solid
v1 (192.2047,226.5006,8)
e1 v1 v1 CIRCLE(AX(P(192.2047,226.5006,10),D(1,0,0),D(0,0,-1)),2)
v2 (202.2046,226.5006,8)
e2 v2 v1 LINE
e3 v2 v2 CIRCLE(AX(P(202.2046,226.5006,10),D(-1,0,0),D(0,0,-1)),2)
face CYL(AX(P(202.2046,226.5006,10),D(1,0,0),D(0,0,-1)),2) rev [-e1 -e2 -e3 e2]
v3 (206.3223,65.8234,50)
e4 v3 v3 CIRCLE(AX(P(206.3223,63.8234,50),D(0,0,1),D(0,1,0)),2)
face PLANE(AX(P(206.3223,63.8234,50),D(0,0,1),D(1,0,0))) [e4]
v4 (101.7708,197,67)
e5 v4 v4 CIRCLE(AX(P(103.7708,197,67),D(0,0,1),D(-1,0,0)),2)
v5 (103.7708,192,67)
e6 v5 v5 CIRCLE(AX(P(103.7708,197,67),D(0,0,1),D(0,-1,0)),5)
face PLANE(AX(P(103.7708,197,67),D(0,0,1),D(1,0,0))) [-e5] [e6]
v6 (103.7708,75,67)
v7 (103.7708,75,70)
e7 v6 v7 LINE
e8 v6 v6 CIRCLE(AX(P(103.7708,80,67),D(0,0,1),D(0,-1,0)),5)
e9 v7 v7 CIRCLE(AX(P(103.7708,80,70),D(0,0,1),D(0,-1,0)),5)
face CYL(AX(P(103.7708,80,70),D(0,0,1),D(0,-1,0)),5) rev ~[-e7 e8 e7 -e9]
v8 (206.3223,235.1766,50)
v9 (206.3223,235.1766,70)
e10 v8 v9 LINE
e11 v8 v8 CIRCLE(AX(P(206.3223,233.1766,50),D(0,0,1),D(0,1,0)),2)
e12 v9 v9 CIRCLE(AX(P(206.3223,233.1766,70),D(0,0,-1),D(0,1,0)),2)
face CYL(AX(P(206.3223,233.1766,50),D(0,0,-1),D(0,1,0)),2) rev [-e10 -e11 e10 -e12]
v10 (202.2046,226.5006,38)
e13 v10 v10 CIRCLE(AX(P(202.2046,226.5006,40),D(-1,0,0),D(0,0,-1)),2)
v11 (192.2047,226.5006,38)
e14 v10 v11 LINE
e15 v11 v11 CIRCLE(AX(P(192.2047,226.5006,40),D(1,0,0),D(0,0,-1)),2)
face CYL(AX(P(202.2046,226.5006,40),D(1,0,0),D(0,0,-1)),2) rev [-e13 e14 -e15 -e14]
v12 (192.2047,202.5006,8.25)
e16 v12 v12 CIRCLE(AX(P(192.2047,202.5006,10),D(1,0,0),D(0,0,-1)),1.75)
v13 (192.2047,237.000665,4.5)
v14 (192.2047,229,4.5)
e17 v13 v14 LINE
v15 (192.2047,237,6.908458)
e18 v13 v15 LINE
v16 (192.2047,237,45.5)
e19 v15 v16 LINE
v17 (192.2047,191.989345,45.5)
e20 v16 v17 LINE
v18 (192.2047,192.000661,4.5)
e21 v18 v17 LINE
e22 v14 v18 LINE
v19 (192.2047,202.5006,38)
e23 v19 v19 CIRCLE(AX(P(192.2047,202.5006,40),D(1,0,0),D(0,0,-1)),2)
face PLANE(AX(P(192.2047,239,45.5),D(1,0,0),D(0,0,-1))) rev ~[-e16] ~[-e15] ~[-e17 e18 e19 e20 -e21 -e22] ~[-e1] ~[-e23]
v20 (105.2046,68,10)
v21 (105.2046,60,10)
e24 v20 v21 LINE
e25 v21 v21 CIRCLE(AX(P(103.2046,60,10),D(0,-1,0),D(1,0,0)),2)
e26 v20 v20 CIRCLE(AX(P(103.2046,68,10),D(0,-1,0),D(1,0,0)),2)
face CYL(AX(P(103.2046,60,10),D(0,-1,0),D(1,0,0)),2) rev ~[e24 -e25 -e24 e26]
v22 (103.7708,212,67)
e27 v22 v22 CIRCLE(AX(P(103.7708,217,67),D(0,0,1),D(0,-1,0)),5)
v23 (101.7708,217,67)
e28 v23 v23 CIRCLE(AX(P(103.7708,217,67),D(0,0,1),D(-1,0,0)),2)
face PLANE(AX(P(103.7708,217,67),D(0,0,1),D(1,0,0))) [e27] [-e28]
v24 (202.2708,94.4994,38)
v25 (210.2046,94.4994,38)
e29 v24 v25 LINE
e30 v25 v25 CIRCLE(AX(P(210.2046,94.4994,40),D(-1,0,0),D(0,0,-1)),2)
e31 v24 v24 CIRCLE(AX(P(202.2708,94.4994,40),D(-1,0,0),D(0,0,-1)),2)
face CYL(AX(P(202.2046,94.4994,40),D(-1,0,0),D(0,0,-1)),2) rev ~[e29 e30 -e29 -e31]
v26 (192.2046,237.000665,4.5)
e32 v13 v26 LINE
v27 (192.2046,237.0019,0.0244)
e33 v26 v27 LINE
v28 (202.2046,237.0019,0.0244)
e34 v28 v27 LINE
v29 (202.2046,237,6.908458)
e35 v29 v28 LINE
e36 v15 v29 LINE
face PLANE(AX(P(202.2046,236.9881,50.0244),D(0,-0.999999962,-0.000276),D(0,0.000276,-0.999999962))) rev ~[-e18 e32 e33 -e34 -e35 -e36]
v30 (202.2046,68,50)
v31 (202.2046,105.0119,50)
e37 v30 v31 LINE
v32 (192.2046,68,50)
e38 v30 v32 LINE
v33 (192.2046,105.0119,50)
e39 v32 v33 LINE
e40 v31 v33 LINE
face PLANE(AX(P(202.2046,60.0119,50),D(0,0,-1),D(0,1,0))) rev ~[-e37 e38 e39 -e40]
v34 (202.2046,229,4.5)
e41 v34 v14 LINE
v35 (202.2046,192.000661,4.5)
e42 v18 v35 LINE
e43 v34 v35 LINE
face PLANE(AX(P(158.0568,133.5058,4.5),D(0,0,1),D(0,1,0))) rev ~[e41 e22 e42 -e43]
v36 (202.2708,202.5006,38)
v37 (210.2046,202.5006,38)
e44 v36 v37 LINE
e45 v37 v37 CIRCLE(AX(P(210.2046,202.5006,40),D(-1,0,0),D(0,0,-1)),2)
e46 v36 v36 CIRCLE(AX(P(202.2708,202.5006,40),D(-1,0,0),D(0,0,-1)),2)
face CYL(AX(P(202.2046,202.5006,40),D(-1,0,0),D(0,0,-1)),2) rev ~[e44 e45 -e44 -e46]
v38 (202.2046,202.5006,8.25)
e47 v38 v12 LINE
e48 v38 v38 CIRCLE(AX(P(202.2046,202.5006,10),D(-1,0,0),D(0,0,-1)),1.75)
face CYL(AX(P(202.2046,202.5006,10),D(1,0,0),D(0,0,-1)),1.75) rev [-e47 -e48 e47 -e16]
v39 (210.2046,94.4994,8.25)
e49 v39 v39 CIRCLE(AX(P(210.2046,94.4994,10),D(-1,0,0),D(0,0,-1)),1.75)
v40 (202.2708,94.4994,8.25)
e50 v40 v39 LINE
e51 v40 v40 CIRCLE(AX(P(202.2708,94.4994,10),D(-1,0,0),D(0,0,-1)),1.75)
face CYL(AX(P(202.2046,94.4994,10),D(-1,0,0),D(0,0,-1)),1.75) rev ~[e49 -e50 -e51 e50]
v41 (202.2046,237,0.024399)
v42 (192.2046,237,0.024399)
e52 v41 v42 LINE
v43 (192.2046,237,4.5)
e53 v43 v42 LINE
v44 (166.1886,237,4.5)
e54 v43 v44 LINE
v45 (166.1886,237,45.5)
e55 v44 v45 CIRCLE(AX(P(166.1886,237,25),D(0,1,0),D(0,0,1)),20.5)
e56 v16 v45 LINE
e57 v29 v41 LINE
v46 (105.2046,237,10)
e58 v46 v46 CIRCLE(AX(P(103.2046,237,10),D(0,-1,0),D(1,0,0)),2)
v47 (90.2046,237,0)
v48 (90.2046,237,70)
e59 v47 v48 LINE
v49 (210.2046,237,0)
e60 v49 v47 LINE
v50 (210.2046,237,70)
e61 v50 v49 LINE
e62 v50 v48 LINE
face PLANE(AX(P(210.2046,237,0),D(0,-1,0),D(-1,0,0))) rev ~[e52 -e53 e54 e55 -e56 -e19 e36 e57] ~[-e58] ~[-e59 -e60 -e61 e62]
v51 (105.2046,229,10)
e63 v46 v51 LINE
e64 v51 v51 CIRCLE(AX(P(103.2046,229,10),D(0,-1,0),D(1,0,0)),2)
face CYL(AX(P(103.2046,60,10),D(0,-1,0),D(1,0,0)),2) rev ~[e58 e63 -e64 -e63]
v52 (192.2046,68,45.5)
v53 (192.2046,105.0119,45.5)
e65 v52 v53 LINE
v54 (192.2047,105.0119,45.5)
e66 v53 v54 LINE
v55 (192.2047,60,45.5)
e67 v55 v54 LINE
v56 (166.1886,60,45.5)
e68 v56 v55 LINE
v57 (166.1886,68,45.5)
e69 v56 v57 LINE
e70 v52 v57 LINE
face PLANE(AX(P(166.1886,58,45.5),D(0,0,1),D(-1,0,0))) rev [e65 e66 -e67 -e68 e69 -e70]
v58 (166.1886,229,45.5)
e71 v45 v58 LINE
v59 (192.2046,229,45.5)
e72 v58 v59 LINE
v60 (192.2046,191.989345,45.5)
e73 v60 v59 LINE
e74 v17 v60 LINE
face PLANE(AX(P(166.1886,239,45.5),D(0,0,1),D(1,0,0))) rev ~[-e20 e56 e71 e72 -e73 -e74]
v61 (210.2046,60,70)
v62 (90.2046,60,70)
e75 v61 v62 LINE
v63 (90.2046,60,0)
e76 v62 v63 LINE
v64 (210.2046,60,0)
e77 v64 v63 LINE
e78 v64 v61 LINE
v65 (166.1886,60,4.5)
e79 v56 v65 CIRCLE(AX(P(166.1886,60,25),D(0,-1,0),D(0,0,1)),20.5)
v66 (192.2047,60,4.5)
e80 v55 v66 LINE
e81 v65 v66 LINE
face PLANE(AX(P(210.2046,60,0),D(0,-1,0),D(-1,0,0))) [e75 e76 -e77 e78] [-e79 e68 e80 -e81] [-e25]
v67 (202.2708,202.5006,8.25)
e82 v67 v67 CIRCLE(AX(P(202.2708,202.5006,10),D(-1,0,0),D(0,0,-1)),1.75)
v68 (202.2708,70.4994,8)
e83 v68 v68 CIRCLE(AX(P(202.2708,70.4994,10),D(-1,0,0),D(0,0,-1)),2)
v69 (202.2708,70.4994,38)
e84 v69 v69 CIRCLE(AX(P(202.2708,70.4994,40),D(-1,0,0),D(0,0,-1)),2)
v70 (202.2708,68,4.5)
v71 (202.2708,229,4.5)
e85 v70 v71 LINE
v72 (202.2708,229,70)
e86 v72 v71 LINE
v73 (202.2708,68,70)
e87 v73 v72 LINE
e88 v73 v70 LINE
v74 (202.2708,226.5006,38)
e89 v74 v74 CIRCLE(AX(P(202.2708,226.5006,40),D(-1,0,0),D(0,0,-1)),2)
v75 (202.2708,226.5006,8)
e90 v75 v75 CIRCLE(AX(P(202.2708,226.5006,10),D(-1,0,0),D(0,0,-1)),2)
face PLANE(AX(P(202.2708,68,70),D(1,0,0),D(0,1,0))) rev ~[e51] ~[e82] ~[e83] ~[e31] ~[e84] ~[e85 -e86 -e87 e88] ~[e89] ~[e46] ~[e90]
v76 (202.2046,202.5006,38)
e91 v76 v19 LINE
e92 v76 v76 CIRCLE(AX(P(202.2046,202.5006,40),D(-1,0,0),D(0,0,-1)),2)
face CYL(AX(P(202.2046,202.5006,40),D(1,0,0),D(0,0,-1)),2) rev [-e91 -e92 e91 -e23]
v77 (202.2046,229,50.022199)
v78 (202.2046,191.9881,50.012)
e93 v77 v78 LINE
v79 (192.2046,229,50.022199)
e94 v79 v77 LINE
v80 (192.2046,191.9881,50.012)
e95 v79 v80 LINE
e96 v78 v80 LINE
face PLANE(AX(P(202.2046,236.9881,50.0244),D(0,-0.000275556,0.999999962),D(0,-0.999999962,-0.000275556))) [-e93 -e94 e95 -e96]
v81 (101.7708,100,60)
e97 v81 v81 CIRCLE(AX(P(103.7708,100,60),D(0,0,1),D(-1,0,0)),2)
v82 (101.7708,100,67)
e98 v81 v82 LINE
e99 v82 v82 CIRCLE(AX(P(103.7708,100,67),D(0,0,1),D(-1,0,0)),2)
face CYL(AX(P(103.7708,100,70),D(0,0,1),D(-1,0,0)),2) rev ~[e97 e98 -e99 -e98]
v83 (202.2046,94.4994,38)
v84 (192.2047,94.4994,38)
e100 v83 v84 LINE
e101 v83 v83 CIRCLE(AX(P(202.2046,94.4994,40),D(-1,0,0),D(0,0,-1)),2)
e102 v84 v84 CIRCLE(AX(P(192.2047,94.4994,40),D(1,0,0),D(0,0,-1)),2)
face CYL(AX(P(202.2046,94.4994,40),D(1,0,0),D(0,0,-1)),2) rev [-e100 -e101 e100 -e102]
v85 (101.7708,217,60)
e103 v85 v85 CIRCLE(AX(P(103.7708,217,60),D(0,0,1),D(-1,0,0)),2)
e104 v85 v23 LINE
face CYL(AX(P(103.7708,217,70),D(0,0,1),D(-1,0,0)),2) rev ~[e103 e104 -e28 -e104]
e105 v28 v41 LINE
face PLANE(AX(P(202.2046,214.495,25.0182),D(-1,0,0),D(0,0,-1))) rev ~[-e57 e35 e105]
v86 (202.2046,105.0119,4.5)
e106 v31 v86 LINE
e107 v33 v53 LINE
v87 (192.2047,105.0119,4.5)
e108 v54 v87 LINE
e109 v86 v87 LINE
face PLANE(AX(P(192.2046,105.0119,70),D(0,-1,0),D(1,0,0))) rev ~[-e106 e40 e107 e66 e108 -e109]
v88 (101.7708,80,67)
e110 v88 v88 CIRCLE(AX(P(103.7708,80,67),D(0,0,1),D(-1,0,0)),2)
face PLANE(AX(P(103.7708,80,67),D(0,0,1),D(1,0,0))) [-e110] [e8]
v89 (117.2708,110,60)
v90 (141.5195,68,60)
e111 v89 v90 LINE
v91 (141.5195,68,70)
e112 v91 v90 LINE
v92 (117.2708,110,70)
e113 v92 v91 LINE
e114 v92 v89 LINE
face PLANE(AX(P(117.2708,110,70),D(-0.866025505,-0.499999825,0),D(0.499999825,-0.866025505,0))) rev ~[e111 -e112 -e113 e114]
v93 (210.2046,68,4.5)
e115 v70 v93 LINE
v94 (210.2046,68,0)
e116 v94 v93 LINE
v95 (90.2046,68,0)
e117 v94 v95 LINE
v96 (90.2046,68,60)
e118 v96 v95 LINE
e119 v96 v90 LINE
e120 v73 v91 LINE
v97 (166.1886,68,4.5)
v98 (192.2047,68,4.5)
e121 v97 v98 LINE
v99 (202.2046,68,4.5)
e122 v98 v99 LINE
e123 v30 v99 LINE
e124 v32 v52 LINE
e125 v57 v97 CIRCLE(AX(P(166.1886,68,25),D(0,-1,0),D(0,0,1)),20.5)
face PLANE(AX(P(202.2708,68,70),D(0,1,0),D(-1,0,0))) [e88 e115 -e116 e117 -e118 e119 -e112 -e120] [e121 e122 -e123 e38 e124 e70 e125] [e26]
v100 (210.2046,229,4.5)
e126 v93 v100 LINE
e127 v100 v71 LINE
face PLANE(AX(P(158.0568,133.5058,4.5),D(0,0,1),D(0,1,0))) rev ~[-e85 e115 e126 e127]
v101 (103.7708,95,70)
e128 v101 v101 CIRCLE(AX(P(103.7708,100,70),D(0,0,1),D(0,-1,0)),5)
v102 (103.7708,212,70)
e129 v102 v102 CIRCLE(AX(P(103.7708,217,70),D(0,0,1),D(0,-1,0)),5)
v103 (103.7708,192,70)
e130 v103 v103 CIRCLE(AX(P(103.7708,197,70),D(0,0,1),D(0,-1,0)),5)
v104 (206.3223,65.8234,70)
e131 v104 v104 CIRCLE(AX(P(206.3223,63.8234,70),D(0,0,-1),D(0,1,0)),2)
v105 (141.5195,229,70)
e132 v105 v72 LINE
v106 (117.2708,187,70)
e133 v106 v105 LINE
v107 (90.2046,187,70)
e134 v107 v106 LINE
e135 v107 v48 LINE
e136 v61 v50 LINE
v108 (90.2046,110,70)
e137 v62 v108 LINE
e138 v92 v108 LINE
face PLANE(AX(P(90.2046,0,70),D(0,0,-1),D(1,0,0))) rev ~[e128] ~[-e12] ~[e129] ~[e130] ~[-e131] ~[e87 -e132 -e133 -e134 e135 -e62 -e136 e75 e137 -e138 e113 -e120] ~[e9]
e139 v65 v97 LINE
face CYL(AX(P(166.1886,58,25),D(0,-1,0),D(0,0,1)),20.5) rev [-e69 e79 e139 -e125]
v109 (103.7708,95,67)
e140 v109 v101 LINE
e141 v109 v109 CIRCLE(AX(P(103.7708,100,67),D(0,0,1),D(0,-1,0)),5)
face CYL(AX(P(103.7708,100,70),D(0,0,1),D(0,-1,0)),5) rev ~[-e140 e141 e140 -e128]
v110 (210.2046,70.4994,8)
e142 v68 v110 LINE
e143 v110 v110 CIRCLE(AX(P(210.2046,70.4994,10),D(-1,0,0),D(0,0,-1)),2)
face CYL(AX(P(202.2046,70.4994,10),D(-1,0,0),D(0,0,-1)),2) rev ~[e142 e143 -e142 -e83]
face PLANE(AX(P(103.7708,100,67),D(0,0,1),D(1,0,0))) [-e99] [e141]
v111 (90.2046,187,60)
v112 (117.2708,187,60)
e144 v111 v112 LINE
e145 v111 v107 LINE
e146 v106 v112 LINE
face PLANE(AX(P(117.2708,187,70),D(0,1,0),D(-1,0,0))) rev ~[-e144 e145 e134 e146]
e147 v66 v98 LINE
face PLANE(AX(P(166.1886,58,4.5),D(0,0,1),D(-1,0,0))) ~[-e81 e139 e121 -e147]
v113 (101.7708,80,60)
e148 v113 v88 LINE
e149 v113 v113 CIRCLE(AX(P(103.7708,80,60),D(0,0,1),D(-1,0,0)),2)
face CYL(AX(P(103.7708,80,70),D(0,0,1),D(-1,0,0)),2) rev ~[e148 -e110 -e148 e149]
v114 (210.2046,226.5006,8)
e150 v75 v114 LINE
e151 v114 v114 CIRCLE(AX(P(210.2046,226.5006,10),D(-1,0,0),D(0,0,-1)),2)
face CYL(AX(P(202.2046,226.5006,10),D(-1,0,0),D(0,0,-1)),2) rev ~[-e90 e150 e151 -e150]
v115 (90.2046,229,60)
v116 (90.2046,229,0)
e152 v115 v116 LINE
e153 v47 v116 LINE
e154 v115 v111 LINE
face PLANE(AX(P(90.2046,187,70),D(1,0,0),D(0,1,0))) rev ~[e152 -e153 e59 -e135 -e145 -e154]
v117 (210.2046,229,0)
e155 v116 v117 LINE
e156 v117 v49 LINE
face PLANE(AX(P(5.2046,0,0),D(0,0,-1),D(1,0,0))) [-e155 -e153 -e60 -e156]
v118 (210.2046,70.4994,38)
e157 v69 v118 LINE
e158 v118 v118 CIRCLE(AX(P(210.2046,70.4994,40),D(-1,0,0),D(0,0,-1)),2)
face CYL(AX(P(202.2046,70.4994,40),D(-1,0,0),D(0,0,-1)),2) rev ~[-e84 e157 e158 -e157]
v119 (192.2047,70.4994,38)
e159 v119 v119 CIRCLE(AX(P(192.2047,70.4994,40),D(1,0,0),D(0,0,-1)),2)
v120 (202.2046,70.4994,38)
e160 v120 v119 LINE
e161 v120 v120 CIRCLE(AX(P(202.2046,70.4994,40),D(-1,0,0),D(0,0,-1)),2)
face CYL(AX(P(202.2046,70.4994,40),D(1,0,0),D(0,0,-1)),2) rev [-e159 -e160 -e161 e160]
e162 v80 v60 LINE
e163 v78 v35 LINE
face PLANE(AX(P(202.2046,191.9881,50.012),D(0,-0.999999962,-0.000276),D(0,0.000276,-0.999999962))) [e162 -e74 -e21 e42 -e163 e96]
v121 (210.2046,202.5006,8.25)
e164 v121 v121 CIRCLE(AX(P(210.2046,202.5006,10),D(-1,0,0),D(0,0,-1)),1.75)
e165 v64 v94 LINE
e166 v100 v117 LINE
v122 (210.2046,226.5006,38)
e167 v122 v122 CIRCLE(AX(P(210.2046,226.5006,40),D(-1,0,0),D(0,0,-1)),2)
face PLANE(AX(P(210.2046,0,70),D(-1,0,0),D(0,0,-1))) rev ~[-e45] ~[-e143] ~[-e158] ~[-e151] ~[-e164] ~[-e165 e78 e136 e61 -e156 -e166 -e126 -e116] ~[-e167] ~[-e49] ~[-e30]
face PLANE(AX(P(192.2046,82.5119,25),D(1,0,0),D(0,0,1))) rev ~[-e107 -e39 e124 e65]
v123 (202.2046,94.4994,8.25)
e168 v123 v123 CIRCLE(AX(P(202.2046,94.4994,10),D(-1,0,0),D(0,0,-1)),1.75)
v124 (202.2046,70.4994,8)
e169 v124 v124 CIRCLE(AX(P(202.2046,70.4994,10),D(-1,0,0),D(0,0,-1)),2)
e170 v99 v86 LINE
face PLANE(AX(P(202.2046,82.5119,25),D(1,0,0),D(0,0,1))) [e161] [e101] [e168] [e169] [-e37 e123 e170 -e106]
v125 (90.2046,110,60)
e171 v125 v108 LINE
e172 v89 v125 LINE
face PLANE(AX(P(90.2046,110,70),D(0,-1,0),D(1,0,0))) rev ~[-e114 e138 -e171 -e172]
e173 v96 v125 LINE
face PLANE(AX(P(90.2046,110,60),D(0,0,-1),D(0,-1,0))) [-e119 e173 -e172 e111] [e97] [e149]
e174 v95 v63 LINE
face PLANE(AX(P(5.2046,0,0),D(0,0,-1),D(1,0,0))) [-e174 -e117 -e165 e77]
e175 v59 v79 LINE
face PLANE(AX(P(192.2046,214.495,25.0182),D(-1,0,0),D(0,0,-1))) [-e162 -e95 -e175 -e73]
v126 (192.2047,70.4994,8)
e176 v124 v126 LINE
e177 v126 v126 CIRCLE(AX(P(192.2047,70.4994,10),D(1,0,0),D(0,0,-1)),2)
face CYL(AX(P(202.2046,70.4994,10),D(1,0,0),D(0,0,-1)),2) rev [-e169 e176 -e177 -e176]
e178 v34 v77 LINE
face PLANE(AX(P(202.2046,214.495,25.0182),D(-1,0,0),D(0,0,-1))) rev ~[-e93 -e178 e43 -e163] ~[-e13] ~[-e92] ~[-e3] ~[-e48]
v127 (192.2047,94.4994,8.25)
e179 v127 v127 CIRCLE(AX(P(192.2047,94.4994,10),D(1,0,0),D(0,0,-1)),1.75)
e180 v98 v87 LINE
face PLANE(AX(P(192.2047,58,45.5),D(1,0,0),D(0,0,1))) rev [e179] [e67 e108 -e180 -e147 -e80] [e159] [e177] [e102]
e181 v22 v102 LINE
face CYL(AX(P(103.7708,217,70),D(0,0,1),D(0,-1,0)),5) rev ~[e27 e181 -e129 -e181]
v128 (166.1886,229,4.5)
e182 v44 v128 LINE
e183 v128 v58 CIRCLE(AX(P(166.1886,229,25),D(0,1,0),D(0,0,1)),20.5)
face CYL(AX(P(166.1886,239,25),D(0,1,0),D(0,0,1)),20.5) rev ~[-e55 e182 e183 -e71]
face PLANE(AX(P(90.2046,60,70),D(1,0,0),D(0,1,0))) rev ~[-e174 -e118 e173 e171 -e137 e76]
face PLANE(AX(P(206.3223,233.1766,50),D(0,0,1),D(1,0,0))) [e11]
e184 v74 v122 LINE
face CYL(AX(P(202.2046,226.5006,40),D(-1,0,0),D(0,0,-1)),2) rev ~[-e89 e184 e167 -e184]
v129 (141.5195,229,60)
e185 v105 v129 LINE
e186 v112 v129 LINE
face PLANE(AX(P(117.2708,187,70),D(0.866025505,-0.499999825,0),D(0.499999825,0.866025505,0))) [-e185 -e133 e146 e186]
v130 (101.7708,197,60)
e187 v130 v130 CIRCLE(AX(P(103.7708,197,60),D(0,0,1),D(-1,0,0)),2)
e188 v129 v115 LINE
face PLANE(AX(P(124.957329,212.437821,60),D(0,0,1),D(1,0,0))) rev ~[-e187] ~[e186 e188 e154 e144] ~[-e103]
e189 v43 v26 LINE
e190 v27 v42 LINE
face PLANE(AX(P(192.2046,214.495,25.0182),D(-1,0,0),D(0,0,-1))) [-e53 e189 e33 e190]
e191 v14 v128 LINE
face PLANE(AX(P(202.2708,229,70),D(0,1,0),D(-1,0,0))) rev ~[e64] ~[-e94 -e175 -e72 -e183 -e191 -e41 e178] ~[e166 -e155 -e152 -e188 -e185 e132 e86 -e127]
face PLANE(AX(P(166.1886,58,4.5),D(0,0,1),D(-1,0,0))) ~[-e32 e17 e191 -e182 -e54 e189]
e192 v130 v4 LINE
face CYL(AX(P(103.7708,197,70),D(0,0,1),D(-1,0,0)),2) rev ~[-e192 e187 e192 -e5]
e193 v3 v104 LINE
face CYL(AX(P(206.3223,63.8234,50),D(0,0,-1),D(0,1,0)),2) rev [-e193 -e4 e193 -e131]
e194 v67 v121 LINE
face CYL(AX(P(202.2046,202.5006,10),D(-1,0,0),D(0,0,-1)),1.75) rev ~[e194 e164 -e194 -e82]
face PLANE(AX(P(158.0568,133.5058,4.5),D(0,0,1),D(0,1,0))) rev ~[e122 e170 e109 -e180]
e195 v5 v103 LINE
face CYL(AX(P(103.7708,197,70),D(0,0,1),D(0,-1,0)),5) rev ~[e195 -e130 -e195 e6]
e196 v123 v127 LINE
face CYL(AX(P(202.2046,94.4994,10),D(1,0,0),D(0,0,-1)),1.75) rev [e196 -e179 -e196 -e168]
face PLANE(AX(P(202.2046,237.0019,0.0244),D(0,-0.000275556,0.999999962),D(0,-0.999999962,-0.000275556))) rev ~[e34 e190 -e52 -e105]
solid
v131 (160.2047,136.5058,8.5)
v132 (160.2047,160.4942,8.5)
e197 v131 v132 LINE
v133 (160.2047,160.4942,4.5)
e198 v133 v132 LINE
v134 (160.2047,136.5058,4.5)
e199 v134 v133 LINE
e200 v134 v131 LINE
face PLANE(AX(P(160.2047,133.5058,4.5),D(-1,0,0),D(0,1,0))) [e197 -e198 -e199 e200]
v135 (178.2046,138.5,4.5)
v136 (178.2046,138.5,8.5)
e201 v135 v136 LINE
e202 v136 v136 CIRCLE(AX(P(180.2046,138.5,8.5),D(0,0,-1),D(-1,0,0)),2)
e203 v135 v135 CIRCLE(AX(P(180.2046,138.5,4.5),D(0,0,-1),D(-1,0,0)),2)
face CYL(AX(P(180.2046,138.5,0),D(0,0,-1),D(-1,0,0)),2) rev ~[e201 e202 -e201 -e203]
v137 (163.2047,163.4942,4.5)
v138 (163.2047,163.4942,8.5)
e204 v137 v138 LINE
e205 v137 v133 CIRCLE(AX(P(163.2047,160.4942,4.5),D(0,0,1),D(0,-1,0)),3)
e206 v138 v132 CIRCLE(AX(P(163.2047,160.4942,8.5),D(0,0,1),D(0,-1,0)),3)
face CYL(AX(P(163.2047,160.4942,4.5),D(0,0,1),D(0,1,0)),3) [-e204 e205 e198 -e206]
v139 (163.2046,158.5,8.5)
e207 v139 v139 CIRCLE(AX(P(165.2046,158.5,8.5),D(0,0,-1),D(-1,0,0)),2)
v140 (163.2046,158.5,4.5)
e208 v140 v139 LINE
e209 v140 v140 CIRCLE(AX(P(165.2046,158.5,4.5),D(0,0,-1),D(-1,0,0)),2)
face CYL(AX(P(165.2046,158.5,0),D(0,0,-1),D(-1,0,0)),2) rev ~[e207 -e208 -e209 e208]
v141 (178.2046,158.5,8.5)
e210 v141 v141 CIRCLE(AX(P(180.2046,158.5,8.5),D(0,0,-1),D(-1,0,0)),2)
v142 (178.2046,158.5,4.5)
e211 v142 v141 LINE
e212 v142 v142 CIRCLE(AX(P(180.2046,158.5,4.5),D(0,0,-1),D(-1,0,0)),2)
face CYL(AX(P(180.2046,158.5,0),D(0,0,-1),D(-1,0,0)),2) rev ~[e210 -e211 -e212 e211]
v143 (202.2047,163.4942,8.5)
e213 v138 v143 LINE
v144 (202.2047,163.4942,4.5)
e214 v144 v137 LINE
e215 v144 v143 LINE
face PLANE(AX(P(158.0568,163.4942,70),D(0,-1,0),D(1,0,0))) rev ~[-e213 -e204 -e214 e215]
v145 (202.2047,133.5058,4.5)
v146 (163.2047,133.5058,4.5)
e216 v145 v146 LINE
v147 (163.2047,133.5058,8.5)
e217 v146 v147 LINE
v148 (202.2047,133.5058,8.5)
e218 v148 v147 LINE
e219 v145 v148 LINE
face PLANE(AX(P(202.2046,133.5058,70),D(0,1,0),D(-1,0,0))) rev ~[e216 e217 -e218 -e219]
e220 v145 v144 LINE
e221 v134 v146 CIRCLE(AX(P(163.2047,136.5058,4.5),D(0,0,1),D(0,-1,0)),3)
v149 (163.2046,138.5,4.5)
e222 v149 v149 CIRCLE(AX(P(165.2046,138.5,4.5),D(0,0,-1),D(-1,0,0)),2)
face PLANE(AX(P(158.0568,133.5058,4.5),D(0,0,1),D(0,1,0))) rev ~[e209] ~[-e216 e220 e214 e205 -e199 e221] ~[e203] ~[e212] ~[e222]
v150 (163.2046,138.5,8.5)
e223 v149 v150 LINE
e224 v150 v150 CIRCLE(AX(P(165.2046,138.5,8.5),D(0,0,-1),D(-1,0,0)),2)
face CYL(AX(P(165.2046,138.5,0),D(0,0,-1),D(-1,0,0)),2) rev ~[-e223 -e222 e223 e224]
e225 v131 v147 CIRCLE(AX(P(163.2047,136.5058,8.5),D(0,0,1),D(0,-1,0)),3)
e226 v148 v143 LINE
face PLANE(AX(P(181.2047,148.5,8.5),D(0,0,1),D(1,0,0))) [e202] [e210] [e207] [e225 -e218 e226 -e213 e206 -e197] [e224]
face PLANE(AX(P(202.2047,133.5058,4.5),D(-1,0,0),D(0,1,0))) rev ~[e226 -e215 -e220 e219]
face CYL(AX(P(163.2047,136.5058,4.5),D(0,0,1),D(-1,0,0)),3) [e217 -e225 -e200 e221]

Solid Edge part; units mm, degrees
sketch "Sketch1" plane through (0, 0, 0) normal (0, -1, 0) x (1, 0, 0)
  spline S0 degree 3 poles (90.2046, 70) (32.991, 55.2277) (66.8661, 5.5696) (5.2046, 0) knots 0 0 0 0 0.422525 0.422525 0.422525 0.422525
  line L0 (5.2046, 0) -> (210.2046, 0)
  line L1 (210.2046, 0) -> (210.2046, 50)
  line L2 (210.2046, 70) -> (210.2046, 50)
  line L3 (90.2046, 70) -> (210.2046, 70)
extrude "Protrusion1" add sketch "Sketch1" against normal blind 297
sketch "Sketch2" plane through (0, 0, 0) normal (0, 0, 1) x (1, 0, 0)
  line L0 (210.2046, 237) -> (5.2046, 237)
  line L1 (5.2046, 237) -> (5.2046, 297)
  line L2 (5.2046, 297) -> (210.2046, 297)
  line L3 (210.2046, 297) -> (210.2046, 237)
  line L4 (210.2046, 60) -> (5.2046, 60)
  line L5 (5.2046, 60) -> (5.2046, 0)
  line L6 (5.2046, 0) -> (210.2046, 0)
  line L7 (210.2046, 0) -> (210.2046, 60)
extrude "VaciadoExtruido_15" cut sketch "Sketch2" along normal blind 144.3663
sketch "Sketch3" plane through (157.6535, 148.5, 70) normal (0, 0, 1) x (0, -1, 0)
  line L0 (80.5, 44.6173) -> (-80.5, 44.6173)
  line L1 (-80.5, 44.6173) -> (-80.5, -40.3827)
  line L2 (-80.5, -40.3827) -> (80.5, -40.3827)
  line L3 (80.5, 44.6173) -> (80.5, -40.3827)
extrude "VaciadoExtruido_16" cut sketch "Sketch3" against normal blind 65.5
sketch "Sketch4" plane through (202.2046, 148.5, 25) normal (-1, 0, 0) x (0, 0, -1)
  line L0 (25, 88.4881) -> (25, 43.4881)
  line L1 (-25, 43.4881) -> (25, 43.4881)
  line L2 (-25, 88.4881) -> (-25, 43.4881)
  line L3 (-25, 88.4881) -> (25, 88.4881)
  line L4 (24.9756, -88.5019) -> (24.988, -43.5019)
  line L5 (-25.012, -43.4881) -> (24.988, -43.5019)
  line L6 (-25.0244, -88.4881) -> (-25.012, -43.4881)
  line L7 (-25.0244, -88.4881) -> (24.9756, -88.5019)
extrude "ProtrusiónExtruida_16" add sketch "Sketch4" along normal blind 10
sketch "Sketch5" plane through (202.2046, 148.5, 25) normal (-1, 0, 0) x (0, 0, -1)
  circle A0 centre (-15, -78.0006) radius 2
  circle A1 centre (-15, -54.0006) radius 2
  circle A2 centre (15, 78.0006) radius 2
  circle A3 centre (15, 54.0006) radius 1.75
  circle A4 centre (-15, 78.0006) radius 2
  circle A5 centre (15, -78.0006) radius 2
  circle A6 centre (15, -54.0006) radius 1.75
  circle A7 centre (-15, 54.0006) radius 2
  dimension "D1" = 10.5
extrude "VaciadoExtruido_17" cut sketch "Sketch5" along normal mid plane 80.0386
sketch "Sketch6" plane through (152.6535, 239, 25) normal (0, -1, 0) x (0, 0, 1)
  arc A0 (-20.5, -13.5351) -> (20.5, -13.5351) centre (0, -13.5351) cw
  line L0 (20.5, -13.5351) -> (20.5, -39.5512)
  line L1 (20.5, -39.5512) -> (-20.5, -39.5512)
  line L2 (-20.5, -13.5351) -> (-20.5, -39.5512)
extrude "Cutout1" cut sketch "Sketch6" along normal blind 79.274
mirror "Mirror1" about plane through (157.6535, 148.5, 25) normal (0, -1, 0) of "Cutout1"
sketch "Sketch7" plane through (150.2046, 148.5, 50) normal (0, 0, 1) x (0, 1, 0)
  circle A0 centre (0, 45.1023) radius 2
  circle A1 centre (84.6766, -56.1177) radius 2
  circle A2 centre (-84.6766, -56.1177) radius 2
extrude "VaciadoExtruido_34" cut sketch "Sketch7" along normal blind 79.2936
sketch "Sketch8" plane through (157.6535, 148.5, 4.5) normal (0, 0, 1) x (0, -1, 0)
  line L0 (14.9942, 44.5512) -> (-14.9942, 44.5512)
  line L1 (-14.9942, 44.5512) -> (-14.9942, 35.5165)
  line L2 (-14.9942, 35.5165) -> (-14.9942, 4.5512)
  line L3 (-14.9942, 2.5512) -> (-14.9942, 4.5512)
  line L4 (14.9942, 2.5512) -> (-14.9942, 2.5512)
  line L5 (14.9942, 44.5512) -> (14.9942, 2.5512)
extrude "ProtrusiónExtruida_17" add sketch "Sketch8" along normal blind 4
sketch "Sketch9" plane through (107.7046, 148.5, 0) normal (0, 0, -1) x (-1, 0, 0)
  circle A0 centre (-57.5, 10) radius 2
  circle A1 centre (-57.5, -10) radius 2
  circle A2 centre (-72.5, -10) radius 2
  circle A3 centre (-72.5, 10) radius 2
  dimension "D1" = 15
  dimension "D2" = 20
  dimension "D3" = 30
  dimension "D4" = 30
  dimension "D5" = 15
extrude "VaciadoExtruido_36" cut sketch "Sketch9" along normal mid plane 45.6601
sketch "Sketch10" plane through (107.7046, 148.5, 0) normal (0, 0, -1) x (0, 1, 0)
  line L0 (-70, 49.3269) -> (-20, 49.3269)
  line L1 (-20, 39.3269) -> (-20, 49.3269)
  line L2 (-70, 39.3269) -> (-20, 39.3269)
  line L3 (-70, 49.3269) -> (-70, 39.3269)
  line L4 (-20, -53.6592) -> (-20, -63.6592)
  line L5 (-20, -63.6592) -> (-70, -63.6592)
  line L6 (-70, -63.6592) -> (-70, -53.6592)
  line L7 (-70, -53.6592) -> (-20, -53.6592)
  line L8 (-20, -71.7737) -> (-20, -81.7737)
  line L9 (-20, -81.7737) -> (-70, -81.7737)
  line L10 (-70, -81.7737) -> (-70, -71.7737)
  line L11 (-70, -71.7737) -> (-20, -71.7737)
  line L12 (20, 69.3269) -> (20, 59.3269)
  line L13 (20, 59.3269) -> (70, 59.3269)
  line L14 (70, 59.3269) -> (70, 69.3269)
  line L15 (70, 69.3269) -> (20, 69.3269)
  line L16 (70, 49.3269) -> (20, 49.3269)
  line L17 (20, 39.3269) -> (20, 49.3269)
  line L18 (70, 39.3269) -> (20, 39.3269)
  line L19 (70, 49.3269) -> (70, 39.3269)
  line L20 (20, -53.6592) -> (20, -63.6592)
  line L21 (20, -63.6592) -> (70, -63.6592)
  line L22 (70, -63.6592) -> (70, -53.6592)
  line L23 (70, -53.6592) -> (20, -53.6592)
  line L24 (20, -71.7737) -> (20, -81.7737)
  line L25 (20, -81.7737) -> (70, -81.7737)
  line L26 (70, -81.7737) -> (70, -71.7737)
  line L27 (70, -71.7737) -> (20, -71.7737)
  line L28 (-20, 69.3269) -> (-20, 59.3269)
  line L29 (-20, 59.3269) -> (-70, 59.3269)
  line L30 (-70, 59.3269) -> (-70, 69.3269)
  line L31 (-70, 69.3269) -> (-20, 69.3269)
  dimension "D1" = 10
extrude "Cutout3" cut sketch "Sketch10" against normal blind 70 and the other way up to next
fillet "Round1" radius 7 4 edges at (54.0455, 193.5, 42.0693) (35.931, 193.5, 10.7553) (35.931, 103.5, 10.7553) (54.0455, 103.5, 42.0693)
sketch "Sketch11" plane through (117.2708, 148.5, 25) normal (1, 0, 0) x (0, 1, 0)
  line L0 (-67.5, -17) -> (67.5, -17)
  line L1 (67.5, -17) -> (67.5, 20)
  line L2 (67.5, 20) -> (-67.5, 20)
  line L3 (-67.5, 20) -> (-67.5, -17)
extrude "Cutout4" cut sketch "Sketch11" against normal blind 55
sketch "Sketch12" plane through (150.2046, 148.5, 70) normal (0, 0, 1) x (-1, 0, 0)
  circle A0 centre (46.4338, 68.5) radius 2
  circle A1 centre (46.4338, 48.5) radius 2
  circle A2 centre (46.4338, -68.5) radius 2
  circle A3 centre (46.4338, -48.5) radius 2
extrude "VaciadoExtruido_45" cut sketch "Sketch12" against normal blind 20 and the other way blind 20
sketch "Sketch13" plane through (117.2708, 148.5, 37.25) normal (1, 0, 0) x (0, 1, 0)
  circle A0 centre (24, 22.75) radius 2
  circle A1 centre (-24, 22.75) radius 2
extrude "VaciadoExtruido_46" cut sketch "Sketch13" against normal blind 20 and the other way blind 9.0877
sketch "Sketch14" plane through (150.2046, 148.5, 70) normal (0, 0, 1) x (1, 0, 0)
  line L0 (-32.9338, 38.5) -> (-8.6851, 80.5)
  line L1 (-8.6851, 80.5) -> (-32.9338, 80.5)
  line L2 (-32.9338, 80.5) -> (-32.9338, 38.5)
  line L3 (-32.9338, -38.5) -> (-8.6851, -80.5)
  line L4 (-8.6851, -80.5) -> (-32.9338, -80.5)
  line L5 (-32.9338, -80.5) -> (-32.9338, -38.5)
extrude "Protrusion2" add sketch "Sketch14" against normal blind 10
sketch "Sketch15" plane through (150.2046, 148.5, 70) normal (0, 0, 1) x (-1, 0, 0)
  line L0 (60, 88.5) -> (60, 38.5)
  line L1 (60, 38.5) -> (32.9338, 38.5)
  line L2 (32.9338, 38.5) -> (8.6851, 80.5)
  line L3 (8.6851, 80.5) -> (-42, 80.5)
  line L4 (-42, 80.5) -> (-42, 43.4881)
  line L5 (-42, 43.4881) -> (-52, 43.4881)
  line L6 (-52, 43.4881) -> (-52, 14.9942)
  line L7 (-52, 14.9942) -> (-7.8522, 14.9942)
  line L8 (-7.8522, 14.9942) -> (-7.8522, -14.9942)
  line L9 (-7.8522, -14.9942) -> (-52, -14.9942)
  line L10 (-52, -14.9942) -> (-52, -43.4881)
  line L11 (-52, -43.4881) -> (-42, -43.4881)
  line L12 (-42, -43.4881) -> (-42, -80.5)
  line L13 (-42, -80.5) -> (8.6851, -80.5)
  line L14 (8.6851, -80.5) -> (32.9338, -38.5)
  line L15 (32.9338, -38.5) -> (60, -38.5)
  line L16 (60, -38.5) -> (60, -88.5)
  line L17 (60, -88.5) -> (145, -88.5)
  line L18 (145, -88.5) -> (145, 88.5)
  line L19 (145, 88.5) -> (60, 88.5)
extrude "VaciadoExtruido_51" cut sketch "Sketch15" against normal blind 140.7144 and the other way blind 152.0344
sketch "Sketch16" plane through (90.2046, 85, 35) normal (-1, 0, 0) x (0, -1, 0)
  line L0 (-25, 25) -> (17, 25)
  line L1 (17, 25) -> (17, -35)
  line L2 (17, -35) -> (-25, -35)
  line L3 (-25, -35) -> (-25, -27)
  line L4 (-25, -27) -> (4, -27)
  line L5 (4, -27) -> (4, 10)
  line L6 (4, 10) -> (-25, 10)
  line L7 (-25, 10) -> (-25, 25)
  line L8 (-102, 25) -> (-144, 25)
  line L9 (-144, 25) -> (-144, -35)
  line L10 (-144, -35) -> (-102, -35)
  line L11 (-102, -35) -> (-102, -27)
  line L12 (-102, -27) -> (-131, -27)
  line L13 (-131, -27) -> (-131, 10)
  line L14 (-131, 10) -> (-102, 10)
  line L15 (-102, 10) -> (-102, 25)
extrude "VaciadoExtruido_52" cut sketch "Sketch16" against normal blind 52.3744 and the other way blind 13.5073
sketch "Sketch17" plane through (158.0568, 148.5, 4.25) normal (-1, 0, 0) x (0, -1, 0)
  line L0 (14.9942, 0.25) -> (-80.5, 0.25)
  line L1 (-80.5, 0.25) -> (-80.5, -4.25)
  line L2 (-80.5, -4.25) -> (80.5, -4.25)
  line L3 (80.5, -4.25) -> (80.5, 0.25)
  line L4 (80.5, 0.25) -> (14.9942, 0.25)
extrude "VaciadoExtruido_53" cut sketch "Sketch17" against normal blind 138.3241 and the other way blind 92.3748
sketch "Sketch18" plane through (150.2046, 60, 35) normal (0, -1, 0) x (1, 0, 0)
  circle A0 centre (-47, -25) radius 2
extrude "VaciadoExtruido_56" cut sketch "Sketch18" against normal blind 196.2425 and the other way blind 30.4365
fillet "Redondeo_7" radius 3 2 edges at (160.2046, 163.4942, 6.5) (160.2046, 133.5058, 6.5)
sketch "Sketch19" plane through (150.2046, 148.5, 70) normal (0, 0, 1) x (0, -1, 0)
  circle A0 centre (-68.5, -46.4338) radius 5
  circle A1 centre (-48.5, -46.4338) radius 5
  circle A2 centre (48.5, -46.4338) radius 5
  circle A3 centre (68.5, -46.4338) radius 5
extrude "VaciadoExtruido_57" cut sketch "Sketch19" against normal blind 3 and the other way blind 6.7769
